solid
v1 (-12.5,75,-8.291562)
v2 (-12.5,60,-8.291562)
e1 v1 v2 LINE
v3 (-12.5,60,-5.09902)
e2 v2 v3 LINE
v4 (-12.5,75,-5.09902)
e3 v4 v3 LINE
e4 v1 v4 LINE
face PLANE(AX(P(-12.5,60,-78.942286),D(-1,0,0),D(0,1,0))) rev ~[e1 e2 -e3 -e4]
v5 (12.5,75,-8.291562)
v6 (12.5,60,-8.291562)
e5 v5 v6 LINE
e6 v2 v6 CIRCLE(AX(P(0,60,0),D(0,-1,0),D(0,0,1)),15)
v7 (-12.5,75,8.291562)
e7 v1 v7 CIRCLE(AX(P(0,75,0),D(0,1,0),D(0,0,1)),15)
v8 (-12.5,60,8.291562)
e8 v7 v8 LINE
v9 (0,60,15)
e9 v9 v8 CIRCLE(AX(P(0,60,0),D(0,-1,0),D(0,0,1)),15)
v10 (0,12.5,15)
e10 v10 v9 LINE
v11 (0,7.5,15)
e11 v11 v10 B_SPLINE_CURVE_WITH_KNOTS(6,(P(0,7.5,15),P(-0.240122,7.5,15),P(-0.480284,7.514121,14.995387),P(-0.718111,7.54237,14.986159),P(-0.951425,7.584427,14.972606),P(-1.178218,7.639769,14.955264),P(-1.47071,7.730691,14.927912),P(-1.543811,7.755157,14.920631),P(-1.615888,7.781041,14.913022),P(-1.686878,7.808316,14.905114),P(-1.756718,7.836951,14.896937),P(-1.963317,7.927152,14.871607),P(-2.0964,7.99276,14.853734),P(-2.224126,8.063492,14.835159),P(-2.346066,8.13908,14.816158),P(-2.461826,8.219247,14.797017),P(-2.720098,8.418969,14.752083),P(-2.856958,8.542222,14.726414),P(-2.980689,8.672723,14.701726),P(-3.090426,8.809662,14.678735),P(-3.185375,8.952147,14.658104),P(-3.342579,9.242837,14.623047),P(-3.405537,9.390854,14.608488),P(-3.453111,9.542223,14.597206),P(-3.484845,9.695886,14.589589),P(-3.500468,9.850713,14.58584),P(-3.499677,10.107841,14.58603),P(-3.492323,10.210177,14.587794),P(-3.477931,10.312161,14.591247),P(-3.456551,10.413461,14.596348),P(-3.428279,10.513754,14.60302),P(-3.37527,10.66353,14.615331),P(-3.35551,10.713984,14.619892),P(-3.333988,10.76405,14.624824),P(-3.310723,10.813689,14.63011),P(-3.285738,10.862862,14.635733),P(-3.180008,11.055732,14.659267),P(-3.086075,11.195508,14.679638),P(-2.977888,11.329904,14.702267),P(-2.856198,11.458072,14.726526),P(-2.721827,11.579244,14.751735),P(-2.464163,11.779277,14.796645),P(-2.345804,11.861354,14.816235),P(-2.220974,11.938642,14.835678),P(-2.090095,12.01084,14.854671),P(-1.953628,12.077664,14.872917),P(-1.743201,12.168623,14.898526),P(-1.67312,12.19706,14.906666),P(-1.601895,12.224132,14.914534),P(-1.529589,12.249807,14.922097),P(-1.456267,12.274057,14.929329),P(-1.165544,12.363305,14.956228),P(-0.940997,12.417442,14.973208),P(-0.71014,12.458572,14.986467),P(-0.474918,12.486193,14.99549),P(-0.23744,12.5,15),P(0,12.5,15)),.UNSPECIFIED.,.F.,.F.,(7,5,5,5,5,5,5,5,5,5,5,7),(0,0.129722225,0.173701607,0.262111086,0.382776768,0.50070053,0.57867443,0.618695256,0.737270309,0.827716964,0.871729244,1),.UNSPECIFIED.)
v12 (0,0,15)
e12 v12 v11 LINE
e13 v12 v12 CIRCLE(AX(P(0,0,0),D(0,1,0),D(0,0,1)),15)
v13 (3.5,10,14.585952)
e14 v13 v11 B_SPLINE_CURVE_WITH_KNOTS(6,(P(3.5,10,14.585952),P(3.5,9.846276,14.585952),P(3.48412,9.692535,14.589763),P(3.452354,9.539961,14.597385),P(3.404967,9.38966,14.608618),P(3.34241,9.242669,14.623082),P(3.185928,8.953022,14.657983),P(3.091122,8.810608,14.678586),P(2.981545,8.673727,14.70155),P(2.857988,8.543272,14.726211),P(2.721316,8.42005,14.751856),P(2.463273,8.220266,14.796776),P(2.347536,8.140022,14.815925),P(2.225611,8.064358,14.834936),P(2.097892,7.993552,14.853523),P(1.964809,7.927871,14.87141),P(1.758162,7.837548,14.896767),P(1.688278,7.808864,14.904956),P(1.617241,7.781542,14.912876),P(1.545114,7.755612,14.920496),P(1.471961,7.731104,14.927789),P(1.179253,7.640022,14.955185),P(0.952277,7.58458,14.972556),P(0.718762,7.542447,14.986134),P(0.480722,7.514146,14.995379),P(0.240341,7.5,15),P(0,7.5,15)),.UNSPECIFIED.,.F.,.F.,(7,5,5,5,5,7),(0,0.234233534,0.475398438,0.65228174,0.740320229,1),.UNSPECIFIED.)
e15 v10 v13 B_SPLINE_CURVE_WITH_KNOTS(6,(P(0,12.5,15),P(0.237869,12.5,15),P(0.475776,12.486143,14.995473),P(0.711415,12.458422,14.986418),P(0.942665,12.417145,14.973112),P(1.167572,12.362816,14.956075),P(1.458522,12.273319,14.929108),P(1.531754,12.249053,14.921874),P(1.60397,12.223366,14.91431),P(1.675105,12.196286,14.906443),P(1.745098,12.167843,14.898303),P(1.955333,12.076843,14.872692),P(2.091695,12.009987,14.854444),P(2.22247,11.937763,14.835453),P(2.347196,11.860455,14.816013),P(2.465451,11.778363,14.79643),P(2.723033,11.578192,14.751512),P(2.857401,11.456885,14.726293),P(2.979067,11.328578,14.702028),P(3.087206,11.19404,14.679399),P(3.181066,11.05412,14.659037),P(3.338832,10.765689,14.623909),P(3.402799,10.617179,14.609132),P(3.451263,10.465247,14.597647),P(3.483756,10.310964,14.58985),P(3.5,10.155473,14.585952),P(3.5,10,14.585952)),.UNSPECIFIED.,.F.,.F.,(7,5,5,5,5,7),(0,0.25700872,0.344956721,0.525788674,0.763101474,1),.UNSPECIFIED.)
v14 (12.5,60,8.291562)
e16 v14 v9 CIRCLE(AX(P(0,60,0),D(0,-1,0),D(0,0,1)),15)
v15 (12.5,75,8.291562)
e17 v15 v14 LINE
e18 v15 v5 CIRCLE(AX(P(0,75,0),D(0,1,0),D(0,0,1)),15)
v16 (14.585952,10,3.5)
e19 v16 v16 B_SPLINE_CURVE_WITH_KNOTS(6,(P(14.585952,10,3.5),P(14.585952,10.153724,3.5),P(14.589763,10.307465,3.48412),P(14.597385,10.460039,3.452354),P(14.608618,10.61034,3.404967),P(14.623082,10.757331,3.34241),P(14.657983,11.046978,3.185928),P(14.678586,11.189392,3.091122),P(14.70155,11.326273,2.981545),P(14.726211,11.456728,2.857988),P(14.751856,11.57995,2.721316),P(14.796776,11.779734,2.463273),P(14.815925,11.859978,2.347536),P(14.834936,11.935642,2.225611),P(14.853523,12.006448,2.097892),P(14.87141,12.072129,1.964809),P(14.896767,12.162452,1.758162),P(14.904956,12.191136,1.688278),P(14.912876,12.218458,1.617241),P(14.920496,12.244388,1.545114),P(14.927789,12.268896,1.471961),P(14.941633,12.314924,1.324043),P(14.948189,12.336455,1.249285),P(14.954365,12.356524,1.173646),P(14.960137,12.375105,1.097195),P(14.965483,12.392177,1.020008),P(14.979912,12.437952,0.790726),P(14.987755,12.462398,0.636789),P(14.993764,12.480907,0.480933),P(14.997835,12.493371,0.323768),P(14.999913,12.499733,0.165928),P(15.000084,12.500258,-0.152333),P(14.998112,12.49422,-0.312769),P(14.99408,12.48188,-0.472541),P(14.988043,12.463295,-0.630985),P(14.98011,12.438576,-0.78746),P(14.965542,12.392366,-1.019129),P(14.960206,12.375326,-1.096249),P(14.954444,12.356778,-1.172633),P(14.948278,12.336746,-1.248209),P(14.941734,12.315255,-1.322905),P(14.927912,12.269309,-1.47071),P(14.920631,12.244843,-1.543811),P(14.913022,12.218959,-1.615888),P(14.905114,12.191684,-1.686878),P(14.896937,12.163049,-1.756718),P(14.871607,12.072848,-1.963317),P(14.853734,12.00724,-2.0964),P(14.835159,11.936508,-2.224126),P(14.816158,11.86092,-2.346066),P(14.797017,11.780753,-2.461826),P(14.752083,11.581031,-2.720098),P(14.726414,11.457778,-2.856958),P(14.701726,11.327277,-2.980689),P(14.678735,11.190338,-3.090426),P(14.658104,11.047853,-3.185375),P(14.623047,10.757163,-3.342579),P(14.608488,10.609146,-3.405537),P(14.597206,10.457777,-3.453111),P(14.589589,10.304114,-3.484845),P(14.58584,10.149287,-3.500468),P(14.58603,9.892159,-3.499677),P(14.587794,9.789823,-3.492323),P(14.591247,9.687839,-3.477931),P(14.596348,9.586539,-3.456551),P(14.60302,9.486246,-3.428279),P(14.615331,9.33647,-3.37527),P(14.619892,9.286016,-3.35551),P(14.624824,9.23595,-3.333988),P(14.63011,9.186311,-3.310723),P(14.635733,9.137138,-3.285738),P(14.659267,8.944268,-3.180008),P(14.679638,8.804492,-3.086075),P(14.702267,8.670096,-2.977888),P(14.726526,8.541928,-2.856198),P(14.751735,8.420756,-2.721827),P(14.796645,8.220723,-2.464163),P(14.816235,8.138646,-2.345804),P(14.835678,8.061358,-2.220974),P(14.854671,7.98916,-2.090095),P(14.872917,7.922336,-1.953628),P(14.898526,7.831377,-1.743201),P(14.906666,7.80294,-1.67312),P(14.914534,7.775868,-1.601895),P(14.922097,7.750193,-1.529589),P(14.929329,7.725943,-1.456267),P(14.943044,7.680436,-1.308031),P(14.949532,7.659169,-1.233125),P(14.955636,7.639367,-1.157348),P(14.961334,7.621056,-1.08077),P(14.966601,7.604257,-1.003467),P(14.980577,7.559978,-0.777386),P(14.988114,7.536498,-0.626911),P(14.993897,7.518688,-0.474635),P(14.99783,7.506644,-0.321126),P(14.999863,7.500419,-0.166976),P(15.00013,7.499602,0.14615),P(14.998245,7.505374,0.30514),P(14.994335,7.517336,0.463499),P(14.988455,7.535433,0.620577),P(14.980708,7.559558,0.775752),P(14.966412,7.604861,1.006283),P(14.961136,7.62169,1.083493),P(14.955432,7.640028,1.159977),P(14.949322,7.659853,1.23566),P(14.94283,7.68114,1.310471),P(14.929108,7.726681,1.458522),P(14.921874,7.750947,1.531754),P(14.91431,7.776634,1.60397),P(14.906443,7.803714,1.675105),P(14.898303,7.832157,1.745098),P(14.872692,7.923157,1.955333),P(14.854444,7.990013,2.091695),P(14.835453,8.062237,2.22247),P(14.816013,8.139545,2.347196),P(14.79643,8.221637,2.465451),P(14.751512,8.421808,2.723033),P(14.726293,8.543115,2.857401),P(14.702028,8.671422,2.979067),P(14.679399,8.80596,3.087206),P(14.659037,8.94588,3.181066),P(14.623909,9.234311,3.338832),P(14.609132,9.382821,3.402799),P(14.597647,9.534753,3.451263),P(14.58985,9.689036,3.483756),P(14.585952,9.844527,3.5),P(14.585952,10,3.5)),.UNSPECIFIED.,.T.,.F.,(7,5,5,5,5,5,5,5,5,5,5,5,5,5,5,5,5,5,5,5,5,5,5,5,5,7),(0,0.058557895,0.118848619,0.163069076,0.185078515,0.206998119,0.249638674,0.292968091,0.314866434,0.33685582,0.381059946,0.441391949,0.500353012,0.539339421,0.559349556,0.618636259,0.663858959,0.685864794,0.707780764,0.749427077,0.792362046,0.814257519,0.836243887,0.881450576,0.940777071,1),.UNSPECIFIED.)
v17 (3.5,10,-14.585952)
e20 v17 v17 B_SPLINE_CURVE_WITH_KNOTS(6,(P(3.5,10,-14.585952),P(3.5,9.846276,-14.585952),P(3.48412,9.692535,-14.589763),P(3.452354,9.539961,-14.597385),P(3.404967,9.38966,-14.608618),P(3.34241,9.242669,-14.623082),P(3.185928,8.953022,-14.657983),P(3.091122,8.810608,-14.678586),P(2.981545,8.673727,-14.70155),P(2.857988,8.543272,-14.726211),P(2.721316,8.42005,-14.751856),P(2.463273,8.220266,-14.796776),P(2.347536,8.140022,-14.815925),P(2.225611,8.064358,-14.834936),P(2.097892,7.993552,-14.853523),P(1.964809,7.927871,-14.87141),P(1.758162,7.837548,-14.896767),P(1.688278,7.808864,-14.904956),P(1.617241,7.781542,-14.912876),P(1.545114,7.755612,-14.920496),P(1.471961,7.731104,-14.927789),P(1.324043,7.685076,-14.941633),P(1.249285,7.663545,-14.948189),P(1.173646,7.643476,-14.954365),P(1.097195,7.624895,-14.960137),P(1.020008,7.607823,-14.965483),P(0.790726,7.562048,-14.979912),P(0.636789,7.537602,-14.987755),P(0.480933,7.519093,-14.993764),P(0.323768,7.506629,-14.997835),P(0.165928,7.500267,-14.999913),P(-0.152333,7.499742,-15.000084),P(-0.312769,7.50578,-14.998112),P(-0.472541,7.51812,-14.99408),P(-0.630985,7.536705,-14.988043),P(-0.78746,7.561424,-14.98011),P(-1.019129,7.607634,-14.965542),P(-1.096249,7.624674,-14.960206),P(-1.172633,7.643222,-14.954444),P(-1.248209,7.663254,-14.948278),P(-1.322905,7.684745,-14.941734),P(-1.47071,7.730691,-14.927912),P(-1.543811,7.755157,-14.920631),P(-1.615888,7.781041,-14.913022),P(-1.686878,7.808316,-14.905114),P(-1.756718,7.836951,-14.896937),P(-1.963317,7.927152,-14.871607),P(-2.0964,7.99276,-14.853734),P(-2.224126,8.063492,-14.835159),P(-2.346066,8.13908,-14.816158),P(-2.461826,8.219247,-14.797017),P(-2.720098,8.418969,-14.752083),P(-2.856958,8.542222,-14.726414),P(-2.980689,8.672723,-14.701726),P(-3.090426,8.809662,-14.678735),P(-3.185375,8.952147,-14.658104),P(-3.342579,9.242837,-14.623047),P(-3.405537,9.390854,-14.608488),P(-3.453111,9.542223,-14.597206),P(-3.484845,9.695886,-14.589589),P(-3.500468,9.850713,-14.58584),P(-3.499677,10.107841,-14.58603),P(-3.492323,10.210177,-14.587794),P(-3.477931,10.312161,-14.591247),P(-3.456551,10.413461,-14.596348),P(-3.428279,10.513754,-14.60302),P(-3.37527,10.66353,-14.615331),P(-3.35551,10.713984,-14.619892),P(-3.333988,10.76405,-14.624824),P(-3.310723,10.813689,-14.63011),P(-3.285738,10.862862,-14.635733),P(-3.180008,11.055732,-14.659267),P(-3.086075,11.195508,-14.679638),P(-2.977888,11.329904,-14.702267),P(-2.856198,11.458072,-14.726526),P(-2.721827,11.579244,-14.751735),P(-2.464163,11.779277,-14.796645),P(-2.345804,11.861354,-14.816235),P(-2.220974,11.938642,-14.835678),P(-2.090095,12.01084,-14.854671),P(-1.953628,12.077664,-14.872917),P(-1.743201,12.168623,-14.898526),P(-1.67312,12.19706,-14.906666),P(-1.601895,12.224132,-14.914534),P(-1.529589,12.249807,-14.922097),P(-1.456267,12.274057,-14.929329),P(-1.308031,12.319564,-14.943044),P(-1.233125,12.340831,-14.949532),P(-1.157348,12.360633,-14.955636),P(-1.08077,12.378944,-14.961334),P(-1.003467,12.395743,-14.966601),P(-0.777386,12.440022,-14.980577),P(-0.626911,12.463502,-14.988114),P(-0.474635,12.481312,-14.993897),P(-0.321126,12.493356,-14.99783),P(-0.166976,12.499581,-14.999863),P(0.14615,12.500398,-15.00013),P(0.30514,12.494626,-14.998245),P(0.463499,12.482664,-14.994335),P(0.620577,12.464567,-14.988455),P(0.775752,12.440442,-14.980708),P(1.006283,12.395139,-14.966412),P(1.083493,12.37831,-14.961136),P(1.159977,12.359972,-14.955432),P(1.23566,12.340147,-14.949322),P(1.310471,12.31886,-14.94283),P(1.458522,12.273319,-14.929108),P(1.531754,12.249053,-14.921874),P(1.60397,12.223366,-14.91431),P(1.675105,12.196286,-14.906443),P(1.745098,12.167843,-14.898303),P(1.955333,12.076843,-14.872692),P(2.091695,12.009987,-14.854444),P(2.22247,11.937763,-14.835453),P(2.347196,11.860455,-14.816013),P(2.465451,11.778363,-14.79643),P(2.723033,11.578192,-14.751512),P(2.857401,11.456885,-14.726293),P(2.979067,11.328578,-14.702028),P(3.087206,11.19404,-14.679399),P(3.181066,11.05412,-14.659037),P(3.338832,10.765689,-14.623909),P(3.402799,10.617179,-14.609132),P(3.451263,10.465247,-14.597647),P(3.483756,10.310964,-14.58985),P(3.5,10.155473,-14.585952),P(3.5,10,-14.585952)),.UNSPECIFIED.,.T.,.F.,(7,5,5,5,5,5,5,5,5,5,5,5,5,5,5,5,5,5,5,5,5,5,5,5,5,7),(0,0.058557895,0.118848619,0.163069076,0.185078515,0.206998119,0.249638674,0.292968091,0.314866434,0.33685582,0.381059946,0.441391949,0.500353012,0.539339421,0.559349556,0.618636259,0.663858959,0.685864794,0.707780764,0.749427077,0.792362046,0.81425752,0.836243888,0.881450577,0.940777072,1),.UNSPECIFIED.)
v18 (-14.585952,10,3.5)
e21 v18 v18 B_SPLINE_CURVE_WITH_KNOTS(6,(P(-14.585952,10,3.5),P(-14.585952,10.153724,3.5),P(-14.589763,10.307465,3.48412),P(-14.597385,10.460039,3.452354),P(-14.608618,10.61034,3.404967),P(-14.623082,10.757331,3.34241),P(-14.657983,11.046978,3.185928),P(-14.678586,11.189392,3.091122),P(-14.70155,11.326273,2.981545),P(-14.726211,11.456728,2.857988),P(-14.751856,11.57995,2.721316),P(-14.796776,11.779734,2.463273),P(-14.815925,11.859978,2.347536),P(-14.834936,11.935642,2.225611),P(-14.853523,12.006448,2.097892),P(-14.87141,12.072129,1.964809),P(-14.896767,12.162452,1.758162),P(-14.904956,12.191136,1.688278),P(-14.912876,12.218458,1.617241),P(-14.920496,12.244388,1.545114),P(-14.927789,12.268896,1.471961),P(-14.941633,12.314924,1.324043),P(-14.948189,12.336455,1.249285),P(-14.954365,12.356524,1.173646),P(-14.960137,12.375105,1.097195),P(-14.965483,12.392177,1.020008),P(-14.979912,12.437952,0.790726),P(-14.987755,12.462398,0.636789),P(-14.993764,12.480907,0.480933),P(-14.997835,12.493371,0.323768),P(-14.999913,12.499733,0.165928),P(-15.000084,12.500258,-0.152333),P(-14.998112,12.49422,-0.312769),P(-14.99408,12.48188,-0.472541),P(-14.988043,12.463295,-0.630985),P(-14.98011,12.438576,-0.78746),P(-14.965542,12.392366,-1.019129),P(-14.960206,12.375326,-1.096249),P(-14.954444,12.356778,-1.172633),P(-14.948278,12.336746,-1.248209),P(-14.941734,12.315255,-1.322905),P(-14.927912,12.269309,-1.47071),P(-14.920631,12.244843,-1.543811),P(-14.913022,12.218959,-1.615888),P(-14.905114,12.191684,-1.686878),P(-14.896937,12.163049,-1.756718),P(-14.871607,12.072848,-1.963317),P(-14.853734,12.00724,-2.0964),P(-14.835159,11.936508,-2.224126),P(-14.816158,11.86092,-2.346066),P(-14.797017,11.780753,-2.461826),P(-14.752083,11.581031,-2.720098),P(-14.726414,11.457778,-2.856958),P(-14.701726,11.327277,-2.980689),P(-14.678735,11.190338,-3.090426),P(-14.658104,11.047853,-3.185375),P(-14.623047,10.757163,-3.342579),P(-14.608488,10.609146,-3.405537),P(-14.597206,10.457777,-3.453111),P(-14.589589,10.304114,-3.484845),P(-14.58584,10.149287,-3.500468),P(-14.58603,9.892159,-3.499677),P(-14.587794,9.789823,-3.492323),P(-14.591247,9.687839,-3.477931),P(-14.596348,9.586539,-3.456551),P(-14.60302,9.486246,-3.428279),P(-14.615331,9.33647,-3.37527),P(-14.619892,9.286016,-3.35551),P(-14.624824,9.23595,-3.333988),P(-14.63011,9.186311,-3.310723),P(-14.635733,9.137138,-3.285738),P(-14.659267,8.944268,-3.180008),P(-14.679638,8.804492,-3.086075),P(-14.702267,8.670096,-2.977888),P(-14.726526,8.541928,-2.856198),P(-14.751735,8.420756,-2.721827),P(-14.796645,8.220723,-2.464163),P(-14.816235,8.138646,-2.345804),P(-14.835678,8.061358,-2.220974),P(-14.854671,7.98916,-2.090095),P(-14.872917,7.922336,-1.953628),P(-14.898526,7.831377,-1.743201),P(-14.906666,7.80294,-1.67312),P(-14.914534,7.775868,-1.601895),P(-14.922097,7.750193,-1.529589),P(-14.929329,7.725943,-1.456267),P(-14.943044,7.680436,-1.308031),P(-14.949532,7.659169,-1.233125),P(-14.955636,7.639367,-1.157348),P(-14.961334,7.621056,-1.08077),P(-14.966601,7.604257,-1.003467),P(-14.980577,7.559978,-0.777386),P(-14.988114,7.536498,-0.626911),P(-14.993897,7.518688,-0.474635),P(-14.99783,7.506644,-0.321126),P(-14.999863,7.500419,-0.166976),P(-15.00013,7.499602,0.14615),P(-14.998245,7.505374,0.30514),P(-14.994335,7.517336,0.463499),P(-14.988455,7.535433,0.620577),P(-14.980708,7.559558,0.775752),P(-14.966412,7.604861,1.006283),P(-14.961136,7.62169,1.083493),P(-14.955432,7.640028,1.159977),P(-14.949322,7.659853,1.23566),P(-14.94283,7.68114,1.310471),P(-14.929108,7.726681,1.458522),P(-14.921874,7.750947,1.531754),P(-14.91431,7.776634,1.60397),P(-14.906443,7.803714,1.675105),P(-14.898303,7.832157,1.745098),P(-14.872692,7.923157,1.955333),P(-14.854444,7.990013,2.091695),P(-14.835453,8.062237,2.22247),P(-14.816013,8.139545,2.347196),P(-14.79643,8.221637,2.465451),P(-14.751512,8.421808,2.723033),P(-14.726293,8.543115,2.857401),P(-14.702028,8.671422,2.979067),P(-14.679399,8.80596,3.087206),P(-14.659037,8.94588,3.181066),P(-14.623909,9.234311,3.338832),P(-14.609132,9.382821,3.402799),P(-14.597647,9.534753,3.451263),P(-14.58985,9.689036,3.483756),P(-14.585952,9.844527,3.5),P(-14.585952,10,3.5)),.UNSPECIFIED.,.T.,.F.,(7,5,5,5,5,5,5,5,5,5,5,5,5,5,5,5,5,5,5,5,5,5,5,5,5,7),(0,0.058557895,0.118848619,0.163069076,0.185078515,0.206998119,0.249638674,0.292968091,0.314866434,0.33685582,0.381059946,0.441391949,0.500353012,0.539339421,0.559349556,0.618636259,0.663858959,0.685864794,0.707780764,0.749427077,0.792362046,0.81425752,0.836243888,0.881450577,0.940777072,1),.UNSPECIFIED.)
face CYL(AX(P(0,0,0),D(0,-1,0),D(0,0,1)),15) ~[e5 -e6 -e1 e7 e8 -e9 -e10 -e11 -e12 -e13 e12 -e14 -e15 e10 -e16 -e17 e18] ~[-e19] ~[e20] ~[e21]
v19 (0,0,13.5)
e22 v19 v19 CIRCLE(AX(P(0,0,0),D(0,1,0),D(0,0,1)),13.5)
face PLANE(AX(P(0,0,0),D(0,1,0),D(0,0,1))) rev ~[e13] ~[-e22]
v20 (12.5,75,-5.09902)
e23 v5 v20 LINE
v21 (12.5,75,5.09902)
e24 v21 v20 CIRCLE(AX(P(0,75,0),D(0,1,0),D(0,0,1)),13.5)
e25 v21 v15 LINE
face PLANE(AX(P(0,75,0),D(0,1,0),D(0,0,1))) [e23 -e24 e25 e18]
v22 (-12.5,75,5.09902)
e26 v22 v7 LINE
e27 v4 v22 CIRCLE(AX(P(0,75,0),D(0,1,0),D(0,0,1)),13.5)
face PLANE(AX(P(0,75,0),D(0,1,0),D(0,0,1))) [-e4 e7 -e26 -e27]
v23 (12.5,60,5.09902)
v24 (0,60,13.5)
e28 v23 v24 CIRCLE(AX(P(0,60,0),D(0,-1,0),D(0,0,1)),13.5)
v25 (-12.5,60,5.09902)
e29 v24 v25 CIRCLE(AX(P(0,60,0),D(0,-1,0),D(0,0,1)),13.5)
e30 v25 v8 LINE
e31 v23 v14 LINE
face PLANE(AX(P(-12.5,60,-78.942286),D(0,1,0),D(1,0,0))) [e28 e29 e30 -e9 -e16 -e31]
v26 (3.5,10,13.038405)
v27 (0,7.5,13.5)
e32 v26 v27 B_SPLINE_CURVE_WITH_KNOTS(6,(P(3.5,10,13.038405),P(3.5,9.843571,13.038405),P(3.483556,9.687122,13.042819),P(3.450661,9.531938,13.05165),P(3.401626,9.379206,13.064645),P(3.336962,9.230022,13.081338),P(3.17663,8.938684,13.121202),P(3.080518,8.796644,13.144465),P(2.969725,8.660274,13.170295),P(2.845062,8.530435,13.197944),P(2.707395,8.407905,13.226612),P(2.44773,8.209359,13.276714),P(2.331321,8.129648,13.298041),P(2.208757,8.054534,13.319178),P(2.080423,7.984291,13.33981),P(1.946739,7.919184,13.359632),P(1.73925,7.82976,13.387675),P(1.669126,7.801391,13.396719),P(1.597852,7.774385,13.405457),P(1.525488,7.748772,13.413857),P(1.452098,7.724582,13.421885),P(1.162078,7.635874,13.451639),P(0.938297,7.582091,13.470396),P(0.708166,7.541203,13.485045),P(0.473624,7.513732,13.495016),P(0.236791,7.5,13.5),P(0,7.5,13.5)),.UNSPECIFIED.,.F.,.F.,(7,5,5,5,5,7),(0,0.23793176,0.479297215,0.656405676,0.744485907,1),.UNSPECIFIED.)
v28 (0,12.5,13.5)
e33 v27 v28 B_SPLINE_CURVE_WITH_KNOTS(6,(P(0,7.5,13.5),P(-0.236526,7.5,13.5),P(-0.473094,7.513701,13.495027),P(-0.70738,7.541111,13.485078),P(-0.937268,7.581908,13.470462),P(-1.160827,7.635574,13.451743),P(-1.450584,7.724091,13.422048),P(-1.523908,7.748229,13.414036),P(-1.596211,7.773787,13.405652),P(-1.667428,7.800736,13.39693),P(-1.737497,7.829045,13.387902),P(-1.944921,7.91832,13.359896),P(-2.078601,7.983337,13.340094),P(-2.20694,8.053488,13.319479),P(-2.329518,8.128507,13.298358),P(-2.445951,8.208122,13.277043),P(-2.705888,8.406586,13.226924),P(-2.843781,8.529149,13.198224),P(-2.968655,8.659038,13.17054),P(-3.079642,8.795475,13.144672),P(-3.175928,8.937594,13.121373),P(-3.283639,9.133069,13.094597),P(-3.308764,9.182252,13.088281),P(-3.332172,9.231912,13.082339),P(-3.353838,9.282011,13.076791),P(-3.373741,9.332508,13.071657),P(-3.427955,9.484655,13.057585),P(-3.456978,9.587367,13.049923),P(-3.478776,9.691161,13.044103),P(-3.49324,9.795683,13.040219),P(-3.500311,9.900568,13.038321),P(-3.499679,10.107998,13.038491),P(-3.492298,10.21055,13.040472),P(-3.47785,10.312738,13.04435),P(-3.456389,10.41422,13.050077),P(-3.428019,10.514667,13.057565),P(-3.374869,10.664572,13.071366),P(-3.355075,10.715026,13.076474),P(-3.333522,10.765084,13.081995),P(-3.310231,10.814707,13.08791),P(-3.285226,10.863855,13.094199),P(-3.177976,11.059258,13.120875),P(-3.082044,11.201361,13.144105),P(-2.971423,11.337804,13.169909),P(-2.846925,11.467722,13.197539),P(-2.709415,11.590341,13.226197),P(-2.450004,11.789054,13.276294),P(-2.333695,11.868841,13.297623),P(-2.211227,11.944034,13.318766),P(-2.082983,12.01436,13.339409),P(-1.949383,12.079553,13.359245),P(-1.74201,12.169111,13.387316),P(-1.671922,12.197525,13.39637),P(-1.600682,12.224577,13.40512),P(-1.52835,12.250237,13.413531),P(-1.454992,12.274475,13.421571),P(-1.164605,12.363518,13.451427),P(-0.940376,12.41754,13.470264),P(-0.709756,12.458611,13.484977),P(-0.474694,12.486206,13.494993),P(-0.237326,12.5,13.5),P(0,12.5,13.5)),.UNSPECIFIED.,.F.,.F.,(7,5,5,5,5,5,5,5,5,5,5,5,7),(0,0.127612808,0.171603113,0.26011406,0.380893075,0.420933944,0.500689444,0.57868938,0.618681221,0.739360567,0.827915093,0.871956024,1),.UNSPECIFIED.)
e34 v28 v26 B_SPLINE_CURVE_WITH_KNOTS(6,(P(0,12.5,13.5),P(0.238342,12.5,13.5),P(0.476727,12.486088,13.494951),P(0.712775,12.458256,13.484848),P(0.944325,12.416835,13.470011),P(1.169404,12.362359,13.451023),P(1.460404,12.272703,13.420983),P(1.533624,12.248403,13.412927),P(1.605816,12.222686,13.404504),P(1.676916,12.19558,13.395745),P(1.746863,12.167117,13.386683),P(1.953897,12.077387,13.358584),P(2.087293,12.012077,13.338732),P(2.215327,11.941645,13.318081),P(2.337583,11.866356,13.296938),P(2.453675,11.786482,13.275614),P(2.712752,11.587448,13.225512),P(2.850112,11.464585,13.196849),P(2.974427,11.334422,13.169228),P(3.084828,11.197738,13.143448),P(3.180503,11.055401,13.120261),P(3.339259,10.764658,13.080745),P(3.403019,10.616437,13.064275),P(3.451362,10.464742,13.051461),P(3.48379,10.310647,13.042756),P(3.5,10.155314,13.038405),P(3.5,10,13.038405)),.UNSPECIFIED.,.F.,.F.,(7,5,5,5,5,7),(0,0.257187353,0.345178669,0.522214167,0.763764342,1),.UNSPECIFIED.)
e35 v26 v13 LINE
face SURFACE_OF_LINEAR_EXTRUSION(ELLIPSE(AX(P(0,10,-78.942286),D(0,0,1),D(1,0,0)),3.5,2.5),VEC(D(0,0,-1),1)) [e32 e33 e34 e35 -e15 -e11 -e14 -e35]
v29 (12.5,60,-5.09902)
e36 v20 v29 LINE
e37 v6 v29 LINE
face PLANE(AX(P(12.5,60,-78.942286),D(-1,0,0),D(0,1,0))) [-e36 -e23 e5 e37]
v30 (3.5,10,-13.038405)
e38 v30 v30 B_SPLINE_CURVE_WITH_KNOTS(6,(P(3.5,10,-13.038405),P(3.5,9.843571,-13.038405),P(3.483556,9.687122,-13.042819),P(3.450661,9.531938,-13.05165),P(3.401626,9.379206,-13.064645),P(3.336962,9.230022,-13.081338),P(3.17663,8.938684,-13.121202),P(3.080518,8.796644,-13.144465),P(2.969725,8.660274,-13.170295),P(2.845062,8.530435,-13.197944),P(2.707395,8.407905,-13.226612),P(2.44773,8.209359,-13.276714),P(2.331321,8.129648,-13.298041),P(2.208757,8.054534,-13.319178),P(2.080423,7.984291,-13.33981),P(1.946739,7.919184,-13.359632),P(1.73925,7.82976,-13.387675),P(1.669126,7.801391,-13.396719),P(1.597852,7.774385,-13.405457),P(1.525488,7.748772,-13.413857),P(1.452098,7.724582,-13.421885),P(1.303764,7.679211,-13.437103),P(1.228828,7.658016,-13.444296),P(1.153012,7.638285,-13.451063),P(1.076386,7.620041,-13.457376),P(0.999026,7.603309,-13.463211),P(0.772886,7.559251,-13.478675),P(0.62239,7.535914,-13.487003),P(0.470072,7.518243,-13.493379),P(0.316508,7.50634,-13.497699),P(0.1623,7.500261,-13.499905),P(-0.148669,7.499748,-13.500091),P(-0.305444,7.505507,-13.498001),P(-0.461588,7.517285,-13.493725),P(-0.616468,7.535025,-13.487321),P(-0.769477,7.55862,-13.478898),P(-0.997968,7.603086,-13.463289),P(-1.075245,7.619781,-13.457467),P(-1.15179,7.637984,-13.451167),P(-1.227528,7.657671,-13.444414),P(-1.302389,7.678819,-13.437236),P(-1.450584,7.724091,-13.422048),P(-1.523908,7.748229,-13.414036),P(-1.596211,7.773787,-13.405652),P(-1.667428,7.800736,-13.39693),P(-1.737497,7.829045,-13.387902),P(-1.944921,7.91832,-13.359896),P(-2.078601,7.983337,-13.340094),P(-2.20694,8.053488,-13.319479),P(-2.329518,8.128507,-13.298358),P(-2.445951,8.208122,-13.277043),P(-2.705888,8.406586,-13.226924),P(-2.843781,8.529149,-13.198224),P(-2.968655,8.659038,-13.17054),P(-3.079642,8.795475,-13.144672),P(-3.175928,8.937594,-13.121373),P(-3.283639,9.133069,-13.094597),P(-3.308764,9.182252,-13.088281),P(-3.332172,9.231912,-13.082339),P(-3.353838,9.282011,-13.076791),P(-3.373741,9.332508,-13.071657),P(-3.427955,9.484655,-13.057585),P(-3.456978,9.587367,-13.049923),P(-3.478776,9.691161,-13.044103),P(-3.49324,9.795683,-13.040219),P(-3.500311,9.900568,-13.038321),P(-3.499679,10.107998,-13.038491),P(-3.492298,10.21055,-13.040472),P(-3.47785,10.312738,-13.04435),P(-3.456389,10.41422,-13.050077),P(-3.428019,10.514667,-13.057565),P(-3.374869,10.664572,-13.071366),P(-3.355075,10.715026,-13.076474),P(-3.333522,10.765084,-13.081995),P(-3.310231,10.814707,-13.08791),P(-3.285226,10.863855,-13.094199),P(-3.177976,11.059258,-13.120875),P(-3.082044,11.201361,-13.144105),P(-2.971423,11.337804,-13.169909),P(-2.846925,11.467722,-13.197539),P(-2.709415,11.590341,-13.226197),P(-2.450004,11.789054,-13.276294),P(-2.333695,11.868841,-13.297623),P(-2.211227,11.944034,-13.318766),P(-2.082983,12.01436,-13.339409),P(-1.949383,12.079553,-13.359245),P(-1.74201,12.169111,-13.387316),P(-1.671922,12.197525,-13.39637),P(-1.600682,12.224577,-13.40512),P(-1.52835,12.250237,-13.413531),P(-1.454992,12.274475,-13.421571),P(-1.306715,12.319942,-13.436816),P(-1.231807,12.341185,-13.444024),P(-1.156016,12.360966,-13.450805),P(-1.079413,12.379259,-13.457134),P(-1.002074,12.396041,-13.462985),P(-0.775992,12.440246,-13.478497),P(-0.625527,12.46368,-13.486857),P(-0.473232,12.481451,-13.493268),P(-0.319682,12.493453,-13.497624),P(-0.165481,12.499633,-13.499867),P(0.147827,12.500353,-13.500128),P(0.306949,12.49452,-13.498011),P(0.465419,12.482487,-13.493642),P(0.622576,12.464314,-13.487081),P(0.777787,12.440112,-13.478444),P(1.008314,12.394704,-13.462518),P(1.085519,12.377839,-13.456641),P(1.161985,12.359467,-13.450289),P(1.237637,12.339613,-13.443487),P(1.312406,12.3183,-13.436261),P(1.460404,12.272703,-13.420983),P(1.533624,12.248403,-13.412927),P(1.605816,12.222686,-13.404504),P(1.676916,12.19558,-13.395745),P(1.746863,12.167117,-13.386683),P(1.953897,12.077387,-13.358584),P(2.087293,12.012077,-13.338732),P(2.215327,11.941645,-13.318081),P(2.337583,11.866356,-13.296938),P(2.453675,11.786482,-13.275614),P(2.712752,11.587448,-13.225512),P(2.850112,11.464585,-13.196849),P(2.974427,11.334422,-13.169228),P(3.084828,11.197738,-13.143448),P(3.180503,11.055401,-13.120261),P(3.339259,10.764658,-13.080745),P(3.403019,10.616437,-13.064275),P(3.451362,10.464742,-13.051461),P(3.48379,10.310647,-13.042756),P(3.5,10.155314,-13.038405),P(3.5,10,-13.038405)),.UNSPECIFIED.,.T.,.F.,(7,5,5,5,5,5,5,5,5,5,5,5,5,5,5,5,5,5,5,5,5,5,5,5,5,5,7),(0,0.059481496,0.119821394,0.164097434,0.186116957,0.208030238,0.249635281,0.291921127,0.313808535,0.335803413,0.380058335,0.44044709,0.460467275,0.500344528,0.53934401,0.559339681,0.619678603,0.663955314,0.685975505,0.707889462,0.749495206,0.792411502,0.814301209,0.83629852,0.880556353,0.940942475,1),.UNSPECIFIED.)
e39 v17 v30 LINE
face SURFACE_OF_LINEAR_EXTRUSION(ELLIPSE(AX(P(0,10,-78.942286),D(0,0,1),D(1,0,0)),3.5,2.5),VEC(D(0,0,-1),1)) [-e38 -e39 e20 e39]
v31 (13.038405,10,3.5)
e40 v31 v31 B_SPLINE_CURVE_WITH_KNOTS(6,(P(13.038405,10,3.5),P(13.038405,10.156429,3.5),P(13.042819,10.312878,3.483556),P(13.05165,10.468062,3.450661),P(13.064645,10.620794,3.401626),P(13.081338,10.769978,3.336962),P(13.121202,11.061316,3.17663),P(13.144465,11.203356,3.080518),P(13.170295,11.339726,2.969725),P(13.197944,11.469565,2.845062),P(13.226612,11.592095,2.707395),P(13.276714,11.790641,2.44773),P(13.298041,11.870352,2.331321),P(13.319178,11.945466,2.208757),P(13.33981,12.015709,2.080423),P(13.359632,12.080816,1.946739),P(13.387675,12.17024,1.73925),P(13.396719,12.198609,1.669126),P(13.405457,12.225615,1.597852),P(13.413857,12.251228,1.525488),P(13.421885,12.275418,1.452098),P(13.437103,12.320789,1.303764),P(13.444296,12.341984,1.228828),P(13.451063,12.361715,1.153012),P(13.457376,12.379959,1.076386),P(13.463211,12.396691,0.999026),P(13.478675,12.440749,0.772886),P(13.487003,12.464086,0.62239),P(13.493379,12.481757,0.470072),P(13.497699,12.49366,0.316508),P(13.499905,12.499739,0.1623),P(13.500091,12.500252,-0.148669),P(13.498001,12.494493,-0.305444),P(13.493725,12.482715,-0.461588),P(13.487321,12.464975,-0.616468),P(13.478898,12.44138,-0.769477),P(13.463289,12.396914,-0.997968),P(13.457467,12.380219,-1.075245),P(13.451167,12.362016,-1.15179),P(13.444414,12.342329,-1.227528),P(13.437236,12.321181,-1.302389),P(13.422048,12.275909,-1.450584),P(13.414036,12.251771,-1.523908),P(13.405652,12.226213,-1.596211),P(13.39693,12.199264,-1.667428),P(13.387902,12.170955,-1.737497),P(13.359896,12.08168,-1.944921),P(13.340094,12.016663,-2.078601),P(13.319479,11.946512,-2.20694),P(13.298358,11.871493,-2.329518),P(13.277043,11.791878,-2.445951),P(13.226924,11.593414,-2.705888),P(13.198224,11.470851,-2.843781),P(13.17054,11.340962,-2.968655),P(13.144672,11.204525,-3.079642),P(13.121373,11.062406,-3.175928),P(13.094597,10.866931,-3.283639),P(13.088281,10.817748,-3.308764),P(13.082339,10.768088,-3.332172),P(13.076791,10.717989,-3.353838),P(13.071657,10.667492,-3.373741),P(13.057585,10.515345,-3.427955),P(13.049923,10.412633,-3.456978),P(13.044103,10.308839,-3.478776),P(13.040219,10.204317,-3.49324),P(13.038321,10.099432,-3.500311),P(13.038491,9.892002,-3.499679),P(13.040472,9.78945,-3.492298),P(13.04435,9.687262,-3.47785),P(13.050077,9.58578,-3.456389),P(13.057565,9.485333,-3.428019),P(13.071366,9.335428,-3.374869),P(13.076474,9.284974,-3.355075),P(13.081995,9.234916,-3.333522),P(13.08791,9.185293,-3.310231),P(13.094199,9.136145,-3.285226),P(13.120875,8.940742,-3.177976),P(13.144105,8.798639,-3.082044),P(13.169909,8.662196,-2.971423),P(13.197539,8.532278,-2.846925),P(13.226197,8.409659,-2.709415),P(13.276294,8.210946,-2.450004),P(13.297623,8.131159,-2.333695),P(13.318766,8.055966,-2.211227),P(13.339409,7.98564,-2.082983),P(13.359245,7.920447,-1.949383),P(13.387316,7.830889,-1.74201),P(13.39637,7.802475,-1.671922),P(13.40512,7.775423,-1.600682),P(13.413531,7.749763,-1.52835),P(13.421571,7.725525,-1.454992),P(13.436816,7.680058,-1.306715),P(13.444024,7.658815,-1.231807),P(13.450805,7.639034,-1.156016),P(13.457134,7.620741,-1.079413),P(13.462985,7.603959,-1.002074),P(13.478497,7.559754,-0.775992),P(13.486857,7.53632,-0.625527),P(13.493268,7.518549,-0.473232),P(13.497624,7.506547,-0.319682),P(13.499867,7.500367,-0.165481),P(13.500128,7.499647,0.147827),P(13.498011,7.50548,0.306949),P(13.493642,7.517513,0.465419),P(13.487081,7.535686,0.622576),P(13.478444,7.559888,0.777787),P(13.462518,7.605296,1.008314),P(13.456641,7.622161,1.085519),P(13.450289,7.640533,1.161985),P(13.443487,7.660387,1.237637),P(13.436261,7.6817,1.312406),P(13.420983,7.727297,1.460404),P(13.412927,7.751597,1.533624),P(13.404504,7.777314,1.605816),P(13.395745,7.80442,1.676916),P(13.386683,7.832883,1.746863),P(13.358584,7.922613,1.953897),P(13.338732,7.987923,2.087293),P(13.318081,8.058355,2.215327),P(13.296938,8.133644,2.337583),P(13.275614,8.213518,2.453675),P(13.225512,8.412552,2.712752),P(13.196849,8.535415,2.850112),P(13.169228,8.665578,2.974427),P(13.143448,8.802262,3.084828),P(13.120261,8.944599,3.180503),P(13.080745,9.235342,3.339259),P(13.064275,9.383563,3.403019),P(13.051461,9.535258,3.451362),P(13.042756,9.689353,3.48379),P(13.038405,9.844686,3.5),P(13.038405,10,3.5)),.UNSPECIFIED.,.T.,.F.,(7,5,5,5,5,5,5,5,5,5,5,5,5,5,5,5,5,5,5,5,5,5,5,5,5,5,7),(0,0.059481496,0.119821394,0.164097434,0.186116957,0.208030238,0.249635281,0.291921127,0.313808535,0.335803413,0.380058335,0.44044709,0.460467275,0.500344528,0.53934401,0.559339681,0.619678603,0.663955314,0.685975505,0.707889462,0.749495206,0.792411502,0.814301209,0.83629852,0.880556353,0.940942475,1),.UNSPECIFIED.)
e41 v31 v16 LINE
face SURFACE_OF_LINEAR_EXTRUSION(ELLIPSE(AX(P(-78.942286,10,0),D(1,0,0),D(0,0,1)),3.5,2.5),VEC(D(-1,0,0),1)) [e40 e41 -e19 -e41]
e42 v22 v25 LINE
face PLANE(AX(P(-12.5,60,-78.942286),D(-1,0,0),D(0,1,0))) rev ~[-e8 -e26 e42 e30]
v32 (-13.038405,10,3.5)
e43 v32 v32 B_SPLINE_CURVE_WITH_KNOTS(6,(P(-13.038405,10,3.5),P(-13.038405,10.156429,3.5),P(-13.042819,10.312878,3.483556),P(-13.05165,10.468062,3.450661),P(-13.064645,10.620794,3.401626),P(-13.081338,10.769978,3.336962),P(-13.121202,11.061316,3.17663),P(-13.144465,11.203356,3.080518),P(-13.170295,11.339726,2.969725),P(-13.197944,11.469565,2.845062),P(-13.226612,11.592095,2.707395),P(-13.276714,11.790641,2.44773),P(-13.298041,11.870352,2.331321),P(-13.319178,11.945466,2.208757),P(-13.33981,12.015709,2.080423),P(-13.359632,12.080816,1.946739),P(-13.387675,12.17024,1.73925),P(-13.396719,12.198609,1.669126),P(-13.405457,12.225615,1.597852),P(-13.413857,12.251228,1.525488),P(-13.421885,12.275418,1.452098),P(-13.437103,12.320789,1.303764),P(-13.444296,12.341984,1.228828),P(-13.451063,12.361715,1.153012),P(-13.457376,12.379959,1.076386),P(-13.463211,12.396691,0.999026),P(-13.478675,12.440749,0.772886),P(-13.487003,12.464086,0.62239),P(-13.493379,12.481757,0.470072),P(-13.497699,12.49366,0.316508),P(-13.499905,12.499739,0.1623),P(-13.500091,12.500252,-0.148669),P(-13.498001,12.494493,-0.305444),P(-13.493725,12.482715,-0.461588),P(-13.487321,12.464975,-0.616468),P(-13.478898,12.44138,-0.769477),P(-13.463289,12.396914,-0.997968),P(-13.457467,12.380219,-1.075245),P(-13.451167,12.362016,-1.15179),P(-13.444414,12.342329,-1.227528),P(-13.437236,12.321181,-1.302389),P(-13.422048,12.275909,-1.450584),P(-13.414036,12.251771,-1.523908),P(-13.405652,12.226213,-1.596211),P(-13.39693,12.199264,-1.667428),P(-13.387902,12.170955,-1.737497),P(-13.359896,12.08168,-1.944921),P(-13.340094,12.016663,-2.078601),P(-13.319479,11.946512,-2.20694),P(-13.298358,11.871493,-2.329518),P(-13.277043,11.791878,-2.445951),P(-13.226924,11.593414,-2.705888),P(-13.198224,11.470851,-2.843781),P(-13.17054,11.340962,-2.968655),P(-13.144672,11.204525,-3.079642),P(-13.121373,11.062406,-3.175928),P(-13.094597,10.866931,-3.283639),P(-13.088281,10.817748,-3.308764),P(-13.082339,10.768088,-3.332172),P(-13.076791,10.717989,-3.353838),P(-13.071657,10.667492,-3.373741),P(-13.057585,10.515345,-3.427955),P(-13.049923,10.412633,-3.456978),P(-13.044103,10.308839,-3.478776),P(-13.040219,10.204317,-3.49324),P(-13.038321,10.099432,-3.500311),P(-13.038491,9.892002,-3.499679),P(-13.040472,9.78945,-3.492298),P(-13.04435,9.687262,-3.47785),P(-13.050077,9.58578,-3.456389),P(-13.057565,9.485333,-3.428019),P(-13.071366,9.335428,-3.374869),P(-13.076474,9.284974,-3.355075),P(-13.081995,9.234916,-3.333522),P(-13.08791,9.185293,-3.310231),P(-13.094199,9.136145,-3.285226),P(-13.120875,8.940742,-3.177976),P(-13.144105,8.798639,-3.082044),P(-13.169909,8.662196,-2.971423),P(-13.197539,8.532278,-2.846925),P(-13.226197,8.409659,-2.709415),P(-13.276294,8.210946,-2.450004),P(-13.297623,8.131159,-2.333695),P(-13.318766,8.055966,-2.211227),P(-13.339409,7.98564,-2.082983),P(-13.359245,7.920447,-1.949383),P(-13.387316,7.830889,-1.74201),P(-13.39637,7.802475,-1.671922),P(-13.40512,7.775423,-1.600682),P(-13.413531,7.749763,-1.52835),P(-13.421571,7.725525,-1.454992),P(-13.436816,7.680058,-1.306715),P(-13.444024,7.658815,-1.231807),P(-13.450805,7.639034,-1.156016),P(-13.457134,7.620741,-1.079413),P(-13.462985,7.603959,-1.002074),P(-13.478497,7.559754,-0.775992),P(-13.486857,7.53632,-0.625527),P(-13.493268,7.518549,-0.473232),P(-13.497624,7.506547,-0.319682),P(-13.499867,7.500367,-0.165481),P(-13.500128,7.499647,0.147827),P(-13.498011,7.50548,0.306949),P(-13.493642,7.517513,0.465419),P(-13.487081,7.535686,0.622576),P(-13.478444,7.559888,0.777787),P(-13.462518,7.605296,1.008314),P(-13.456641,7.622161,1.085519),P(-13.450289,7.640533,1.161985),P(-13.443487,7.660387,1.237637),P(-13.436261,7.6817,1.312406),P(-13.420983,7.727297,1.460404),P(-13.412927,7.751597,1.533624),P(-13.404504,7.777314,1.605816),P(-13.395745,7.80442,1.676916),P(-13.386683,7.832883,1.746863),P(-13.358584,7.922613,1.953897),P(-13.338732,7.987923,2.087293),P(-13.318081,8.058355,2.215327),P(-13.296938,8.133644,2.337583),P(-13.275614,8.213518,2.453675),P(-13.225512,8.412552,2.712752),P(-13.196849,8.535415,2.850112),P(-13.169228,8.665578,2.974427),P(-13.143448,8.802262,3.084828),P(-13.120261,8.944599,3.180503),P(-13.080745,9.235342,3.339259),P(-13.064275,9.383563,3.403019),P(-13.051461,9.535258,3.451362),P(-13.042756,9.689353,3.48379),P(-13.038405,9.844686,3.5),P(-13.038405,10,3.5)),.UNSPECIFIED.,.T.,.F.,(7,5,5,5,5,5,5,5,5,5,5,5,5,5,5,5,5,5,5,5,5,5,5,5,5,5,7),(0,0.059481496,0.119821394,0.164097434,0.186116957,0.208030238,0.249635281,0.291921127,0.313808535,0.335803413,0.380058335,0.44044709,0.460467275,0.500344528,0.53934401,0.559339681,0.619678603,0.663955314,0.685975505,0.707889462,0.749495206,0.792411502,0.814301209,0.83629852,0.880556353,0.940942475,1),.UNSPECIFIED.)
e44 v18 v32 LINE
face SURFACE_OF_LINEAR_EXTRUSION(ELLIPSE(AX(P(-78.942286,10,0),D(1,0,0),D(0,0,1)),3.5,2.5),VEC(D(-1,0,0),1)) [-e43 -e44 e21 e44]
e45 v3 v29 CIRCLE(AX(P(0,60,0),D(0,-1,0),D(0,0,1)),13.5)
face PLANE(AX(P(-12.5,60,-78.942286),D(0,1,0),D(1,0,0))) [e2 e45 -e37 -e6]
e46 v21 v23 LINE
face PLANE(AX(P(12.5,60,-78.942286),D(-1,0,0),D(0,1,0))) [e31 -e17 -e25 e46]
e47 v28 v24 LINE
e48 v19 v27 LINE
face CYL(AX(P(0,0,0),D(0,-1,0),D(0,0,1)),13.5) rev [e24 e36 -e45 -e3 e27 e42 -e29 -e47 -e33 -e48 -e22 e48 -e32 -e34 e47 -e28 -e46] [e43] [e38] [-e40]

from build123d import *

# Parameters (mm, degrees)
SKETCH2_R               = 15
SKETCH2_R_2             = 13.5
BOSS_EXTRUDE2_DEPTH     = 75
CUT_EXTRUDE1_DEPTH      = 78.942286341
CUT_EXTRUDE1_DEPTH_BACK = 78.942286341
SKETCH4_RX              = 3.5
SKETCH4_RY              = 2.5
CUT_EXTRUDE2_DEPTH      = 78.942286475
CUT_EXTRUDE2_DEPTH_BACK = 78.942286475
SKETCH5_RX              = 3.5
SKETCH5_RY              = 2.5
CUT_EXTRUDE3_DEPTH      = 78.942286475
CUT_EXTRUDE3_DEPTH_BACK = 78.942286475
SKETCH6_W               = 25
SKETCH6_H               = 15


with BuildPart() as part:
    # Sketch2 → Boss-Extrude2 (new body)
    with BuildSketch(Plane(origin=(0, 0, 0), x_dir=(1, 0, 0), z_dir=(0, 1, 0))):
        with Locations(Location((0, 0, 0), (0, 0, 270))):
            Circle(SKETCH2_R)
        with Locations(Location((0, 0, 0), (0, 0, 270))):
            Circle(SKETCH2_R_2, mode=Mode.SUBTRACT)
    extrude(amount=BOSS_EXTRUDE2_DEPTH)

    # Sketch4 → Cut-Extrude1 (cut, two sides: drawn at the far end of the back side and taken through both)
    with BuildSketch(Plane.XY.offset(-CUT_EXTRUDE1_DEPTH_BACK)):
        with Locations((0, 10)):
            Ellipse(SKETCH4_RX, SKETCH4_RY)
    extrude(amount=CUT_EXTRUDE1_DEPTH + CUT_EXTRUDE1_DEPTH_BACK, mode=Mode.SUBTRACT)

    # Sketch5 → Cut-Extrude2 (cut, two sides: drawn at the far end of the back side and taken through both)
    with BuildSketch(Plane(origin=(0, 0, 0), x_dir=(0, 0, -1), z_dir=(1, 0, 0)).offset(-CUT_EXTRUDE2_DEPTH_BACK)):
        with Locations(Location((0, 10), (0, 0, 180))):
            Ellipse(SKETCH5_RX, SKETCH5_RY)
    extrude(amount=CUT_EXTRUDE2_DEPTH + CUT_EXTRUDE2_DEPTH_BACK, mode=Mode.SUBTRACT)

    # Sketch6 → Cut-Extrude3 (cut, two sides: drawn at the far end of the back side and taken through both)
    with BuildSketch(Plane.XY.offset(-CUT_EXTRUDE3_DEPTH_BACK)):
        with Locations((0, 67.5)):
            Rectangle(SKETCH6_W, SKETCH6_H)
    extrude(amount=CUT_EXTRUDE3_DEPTH + CUT_EXTRUDE3_DEPTH_BACK, mode=Mode.SUBTRACT)


solid = part.part
